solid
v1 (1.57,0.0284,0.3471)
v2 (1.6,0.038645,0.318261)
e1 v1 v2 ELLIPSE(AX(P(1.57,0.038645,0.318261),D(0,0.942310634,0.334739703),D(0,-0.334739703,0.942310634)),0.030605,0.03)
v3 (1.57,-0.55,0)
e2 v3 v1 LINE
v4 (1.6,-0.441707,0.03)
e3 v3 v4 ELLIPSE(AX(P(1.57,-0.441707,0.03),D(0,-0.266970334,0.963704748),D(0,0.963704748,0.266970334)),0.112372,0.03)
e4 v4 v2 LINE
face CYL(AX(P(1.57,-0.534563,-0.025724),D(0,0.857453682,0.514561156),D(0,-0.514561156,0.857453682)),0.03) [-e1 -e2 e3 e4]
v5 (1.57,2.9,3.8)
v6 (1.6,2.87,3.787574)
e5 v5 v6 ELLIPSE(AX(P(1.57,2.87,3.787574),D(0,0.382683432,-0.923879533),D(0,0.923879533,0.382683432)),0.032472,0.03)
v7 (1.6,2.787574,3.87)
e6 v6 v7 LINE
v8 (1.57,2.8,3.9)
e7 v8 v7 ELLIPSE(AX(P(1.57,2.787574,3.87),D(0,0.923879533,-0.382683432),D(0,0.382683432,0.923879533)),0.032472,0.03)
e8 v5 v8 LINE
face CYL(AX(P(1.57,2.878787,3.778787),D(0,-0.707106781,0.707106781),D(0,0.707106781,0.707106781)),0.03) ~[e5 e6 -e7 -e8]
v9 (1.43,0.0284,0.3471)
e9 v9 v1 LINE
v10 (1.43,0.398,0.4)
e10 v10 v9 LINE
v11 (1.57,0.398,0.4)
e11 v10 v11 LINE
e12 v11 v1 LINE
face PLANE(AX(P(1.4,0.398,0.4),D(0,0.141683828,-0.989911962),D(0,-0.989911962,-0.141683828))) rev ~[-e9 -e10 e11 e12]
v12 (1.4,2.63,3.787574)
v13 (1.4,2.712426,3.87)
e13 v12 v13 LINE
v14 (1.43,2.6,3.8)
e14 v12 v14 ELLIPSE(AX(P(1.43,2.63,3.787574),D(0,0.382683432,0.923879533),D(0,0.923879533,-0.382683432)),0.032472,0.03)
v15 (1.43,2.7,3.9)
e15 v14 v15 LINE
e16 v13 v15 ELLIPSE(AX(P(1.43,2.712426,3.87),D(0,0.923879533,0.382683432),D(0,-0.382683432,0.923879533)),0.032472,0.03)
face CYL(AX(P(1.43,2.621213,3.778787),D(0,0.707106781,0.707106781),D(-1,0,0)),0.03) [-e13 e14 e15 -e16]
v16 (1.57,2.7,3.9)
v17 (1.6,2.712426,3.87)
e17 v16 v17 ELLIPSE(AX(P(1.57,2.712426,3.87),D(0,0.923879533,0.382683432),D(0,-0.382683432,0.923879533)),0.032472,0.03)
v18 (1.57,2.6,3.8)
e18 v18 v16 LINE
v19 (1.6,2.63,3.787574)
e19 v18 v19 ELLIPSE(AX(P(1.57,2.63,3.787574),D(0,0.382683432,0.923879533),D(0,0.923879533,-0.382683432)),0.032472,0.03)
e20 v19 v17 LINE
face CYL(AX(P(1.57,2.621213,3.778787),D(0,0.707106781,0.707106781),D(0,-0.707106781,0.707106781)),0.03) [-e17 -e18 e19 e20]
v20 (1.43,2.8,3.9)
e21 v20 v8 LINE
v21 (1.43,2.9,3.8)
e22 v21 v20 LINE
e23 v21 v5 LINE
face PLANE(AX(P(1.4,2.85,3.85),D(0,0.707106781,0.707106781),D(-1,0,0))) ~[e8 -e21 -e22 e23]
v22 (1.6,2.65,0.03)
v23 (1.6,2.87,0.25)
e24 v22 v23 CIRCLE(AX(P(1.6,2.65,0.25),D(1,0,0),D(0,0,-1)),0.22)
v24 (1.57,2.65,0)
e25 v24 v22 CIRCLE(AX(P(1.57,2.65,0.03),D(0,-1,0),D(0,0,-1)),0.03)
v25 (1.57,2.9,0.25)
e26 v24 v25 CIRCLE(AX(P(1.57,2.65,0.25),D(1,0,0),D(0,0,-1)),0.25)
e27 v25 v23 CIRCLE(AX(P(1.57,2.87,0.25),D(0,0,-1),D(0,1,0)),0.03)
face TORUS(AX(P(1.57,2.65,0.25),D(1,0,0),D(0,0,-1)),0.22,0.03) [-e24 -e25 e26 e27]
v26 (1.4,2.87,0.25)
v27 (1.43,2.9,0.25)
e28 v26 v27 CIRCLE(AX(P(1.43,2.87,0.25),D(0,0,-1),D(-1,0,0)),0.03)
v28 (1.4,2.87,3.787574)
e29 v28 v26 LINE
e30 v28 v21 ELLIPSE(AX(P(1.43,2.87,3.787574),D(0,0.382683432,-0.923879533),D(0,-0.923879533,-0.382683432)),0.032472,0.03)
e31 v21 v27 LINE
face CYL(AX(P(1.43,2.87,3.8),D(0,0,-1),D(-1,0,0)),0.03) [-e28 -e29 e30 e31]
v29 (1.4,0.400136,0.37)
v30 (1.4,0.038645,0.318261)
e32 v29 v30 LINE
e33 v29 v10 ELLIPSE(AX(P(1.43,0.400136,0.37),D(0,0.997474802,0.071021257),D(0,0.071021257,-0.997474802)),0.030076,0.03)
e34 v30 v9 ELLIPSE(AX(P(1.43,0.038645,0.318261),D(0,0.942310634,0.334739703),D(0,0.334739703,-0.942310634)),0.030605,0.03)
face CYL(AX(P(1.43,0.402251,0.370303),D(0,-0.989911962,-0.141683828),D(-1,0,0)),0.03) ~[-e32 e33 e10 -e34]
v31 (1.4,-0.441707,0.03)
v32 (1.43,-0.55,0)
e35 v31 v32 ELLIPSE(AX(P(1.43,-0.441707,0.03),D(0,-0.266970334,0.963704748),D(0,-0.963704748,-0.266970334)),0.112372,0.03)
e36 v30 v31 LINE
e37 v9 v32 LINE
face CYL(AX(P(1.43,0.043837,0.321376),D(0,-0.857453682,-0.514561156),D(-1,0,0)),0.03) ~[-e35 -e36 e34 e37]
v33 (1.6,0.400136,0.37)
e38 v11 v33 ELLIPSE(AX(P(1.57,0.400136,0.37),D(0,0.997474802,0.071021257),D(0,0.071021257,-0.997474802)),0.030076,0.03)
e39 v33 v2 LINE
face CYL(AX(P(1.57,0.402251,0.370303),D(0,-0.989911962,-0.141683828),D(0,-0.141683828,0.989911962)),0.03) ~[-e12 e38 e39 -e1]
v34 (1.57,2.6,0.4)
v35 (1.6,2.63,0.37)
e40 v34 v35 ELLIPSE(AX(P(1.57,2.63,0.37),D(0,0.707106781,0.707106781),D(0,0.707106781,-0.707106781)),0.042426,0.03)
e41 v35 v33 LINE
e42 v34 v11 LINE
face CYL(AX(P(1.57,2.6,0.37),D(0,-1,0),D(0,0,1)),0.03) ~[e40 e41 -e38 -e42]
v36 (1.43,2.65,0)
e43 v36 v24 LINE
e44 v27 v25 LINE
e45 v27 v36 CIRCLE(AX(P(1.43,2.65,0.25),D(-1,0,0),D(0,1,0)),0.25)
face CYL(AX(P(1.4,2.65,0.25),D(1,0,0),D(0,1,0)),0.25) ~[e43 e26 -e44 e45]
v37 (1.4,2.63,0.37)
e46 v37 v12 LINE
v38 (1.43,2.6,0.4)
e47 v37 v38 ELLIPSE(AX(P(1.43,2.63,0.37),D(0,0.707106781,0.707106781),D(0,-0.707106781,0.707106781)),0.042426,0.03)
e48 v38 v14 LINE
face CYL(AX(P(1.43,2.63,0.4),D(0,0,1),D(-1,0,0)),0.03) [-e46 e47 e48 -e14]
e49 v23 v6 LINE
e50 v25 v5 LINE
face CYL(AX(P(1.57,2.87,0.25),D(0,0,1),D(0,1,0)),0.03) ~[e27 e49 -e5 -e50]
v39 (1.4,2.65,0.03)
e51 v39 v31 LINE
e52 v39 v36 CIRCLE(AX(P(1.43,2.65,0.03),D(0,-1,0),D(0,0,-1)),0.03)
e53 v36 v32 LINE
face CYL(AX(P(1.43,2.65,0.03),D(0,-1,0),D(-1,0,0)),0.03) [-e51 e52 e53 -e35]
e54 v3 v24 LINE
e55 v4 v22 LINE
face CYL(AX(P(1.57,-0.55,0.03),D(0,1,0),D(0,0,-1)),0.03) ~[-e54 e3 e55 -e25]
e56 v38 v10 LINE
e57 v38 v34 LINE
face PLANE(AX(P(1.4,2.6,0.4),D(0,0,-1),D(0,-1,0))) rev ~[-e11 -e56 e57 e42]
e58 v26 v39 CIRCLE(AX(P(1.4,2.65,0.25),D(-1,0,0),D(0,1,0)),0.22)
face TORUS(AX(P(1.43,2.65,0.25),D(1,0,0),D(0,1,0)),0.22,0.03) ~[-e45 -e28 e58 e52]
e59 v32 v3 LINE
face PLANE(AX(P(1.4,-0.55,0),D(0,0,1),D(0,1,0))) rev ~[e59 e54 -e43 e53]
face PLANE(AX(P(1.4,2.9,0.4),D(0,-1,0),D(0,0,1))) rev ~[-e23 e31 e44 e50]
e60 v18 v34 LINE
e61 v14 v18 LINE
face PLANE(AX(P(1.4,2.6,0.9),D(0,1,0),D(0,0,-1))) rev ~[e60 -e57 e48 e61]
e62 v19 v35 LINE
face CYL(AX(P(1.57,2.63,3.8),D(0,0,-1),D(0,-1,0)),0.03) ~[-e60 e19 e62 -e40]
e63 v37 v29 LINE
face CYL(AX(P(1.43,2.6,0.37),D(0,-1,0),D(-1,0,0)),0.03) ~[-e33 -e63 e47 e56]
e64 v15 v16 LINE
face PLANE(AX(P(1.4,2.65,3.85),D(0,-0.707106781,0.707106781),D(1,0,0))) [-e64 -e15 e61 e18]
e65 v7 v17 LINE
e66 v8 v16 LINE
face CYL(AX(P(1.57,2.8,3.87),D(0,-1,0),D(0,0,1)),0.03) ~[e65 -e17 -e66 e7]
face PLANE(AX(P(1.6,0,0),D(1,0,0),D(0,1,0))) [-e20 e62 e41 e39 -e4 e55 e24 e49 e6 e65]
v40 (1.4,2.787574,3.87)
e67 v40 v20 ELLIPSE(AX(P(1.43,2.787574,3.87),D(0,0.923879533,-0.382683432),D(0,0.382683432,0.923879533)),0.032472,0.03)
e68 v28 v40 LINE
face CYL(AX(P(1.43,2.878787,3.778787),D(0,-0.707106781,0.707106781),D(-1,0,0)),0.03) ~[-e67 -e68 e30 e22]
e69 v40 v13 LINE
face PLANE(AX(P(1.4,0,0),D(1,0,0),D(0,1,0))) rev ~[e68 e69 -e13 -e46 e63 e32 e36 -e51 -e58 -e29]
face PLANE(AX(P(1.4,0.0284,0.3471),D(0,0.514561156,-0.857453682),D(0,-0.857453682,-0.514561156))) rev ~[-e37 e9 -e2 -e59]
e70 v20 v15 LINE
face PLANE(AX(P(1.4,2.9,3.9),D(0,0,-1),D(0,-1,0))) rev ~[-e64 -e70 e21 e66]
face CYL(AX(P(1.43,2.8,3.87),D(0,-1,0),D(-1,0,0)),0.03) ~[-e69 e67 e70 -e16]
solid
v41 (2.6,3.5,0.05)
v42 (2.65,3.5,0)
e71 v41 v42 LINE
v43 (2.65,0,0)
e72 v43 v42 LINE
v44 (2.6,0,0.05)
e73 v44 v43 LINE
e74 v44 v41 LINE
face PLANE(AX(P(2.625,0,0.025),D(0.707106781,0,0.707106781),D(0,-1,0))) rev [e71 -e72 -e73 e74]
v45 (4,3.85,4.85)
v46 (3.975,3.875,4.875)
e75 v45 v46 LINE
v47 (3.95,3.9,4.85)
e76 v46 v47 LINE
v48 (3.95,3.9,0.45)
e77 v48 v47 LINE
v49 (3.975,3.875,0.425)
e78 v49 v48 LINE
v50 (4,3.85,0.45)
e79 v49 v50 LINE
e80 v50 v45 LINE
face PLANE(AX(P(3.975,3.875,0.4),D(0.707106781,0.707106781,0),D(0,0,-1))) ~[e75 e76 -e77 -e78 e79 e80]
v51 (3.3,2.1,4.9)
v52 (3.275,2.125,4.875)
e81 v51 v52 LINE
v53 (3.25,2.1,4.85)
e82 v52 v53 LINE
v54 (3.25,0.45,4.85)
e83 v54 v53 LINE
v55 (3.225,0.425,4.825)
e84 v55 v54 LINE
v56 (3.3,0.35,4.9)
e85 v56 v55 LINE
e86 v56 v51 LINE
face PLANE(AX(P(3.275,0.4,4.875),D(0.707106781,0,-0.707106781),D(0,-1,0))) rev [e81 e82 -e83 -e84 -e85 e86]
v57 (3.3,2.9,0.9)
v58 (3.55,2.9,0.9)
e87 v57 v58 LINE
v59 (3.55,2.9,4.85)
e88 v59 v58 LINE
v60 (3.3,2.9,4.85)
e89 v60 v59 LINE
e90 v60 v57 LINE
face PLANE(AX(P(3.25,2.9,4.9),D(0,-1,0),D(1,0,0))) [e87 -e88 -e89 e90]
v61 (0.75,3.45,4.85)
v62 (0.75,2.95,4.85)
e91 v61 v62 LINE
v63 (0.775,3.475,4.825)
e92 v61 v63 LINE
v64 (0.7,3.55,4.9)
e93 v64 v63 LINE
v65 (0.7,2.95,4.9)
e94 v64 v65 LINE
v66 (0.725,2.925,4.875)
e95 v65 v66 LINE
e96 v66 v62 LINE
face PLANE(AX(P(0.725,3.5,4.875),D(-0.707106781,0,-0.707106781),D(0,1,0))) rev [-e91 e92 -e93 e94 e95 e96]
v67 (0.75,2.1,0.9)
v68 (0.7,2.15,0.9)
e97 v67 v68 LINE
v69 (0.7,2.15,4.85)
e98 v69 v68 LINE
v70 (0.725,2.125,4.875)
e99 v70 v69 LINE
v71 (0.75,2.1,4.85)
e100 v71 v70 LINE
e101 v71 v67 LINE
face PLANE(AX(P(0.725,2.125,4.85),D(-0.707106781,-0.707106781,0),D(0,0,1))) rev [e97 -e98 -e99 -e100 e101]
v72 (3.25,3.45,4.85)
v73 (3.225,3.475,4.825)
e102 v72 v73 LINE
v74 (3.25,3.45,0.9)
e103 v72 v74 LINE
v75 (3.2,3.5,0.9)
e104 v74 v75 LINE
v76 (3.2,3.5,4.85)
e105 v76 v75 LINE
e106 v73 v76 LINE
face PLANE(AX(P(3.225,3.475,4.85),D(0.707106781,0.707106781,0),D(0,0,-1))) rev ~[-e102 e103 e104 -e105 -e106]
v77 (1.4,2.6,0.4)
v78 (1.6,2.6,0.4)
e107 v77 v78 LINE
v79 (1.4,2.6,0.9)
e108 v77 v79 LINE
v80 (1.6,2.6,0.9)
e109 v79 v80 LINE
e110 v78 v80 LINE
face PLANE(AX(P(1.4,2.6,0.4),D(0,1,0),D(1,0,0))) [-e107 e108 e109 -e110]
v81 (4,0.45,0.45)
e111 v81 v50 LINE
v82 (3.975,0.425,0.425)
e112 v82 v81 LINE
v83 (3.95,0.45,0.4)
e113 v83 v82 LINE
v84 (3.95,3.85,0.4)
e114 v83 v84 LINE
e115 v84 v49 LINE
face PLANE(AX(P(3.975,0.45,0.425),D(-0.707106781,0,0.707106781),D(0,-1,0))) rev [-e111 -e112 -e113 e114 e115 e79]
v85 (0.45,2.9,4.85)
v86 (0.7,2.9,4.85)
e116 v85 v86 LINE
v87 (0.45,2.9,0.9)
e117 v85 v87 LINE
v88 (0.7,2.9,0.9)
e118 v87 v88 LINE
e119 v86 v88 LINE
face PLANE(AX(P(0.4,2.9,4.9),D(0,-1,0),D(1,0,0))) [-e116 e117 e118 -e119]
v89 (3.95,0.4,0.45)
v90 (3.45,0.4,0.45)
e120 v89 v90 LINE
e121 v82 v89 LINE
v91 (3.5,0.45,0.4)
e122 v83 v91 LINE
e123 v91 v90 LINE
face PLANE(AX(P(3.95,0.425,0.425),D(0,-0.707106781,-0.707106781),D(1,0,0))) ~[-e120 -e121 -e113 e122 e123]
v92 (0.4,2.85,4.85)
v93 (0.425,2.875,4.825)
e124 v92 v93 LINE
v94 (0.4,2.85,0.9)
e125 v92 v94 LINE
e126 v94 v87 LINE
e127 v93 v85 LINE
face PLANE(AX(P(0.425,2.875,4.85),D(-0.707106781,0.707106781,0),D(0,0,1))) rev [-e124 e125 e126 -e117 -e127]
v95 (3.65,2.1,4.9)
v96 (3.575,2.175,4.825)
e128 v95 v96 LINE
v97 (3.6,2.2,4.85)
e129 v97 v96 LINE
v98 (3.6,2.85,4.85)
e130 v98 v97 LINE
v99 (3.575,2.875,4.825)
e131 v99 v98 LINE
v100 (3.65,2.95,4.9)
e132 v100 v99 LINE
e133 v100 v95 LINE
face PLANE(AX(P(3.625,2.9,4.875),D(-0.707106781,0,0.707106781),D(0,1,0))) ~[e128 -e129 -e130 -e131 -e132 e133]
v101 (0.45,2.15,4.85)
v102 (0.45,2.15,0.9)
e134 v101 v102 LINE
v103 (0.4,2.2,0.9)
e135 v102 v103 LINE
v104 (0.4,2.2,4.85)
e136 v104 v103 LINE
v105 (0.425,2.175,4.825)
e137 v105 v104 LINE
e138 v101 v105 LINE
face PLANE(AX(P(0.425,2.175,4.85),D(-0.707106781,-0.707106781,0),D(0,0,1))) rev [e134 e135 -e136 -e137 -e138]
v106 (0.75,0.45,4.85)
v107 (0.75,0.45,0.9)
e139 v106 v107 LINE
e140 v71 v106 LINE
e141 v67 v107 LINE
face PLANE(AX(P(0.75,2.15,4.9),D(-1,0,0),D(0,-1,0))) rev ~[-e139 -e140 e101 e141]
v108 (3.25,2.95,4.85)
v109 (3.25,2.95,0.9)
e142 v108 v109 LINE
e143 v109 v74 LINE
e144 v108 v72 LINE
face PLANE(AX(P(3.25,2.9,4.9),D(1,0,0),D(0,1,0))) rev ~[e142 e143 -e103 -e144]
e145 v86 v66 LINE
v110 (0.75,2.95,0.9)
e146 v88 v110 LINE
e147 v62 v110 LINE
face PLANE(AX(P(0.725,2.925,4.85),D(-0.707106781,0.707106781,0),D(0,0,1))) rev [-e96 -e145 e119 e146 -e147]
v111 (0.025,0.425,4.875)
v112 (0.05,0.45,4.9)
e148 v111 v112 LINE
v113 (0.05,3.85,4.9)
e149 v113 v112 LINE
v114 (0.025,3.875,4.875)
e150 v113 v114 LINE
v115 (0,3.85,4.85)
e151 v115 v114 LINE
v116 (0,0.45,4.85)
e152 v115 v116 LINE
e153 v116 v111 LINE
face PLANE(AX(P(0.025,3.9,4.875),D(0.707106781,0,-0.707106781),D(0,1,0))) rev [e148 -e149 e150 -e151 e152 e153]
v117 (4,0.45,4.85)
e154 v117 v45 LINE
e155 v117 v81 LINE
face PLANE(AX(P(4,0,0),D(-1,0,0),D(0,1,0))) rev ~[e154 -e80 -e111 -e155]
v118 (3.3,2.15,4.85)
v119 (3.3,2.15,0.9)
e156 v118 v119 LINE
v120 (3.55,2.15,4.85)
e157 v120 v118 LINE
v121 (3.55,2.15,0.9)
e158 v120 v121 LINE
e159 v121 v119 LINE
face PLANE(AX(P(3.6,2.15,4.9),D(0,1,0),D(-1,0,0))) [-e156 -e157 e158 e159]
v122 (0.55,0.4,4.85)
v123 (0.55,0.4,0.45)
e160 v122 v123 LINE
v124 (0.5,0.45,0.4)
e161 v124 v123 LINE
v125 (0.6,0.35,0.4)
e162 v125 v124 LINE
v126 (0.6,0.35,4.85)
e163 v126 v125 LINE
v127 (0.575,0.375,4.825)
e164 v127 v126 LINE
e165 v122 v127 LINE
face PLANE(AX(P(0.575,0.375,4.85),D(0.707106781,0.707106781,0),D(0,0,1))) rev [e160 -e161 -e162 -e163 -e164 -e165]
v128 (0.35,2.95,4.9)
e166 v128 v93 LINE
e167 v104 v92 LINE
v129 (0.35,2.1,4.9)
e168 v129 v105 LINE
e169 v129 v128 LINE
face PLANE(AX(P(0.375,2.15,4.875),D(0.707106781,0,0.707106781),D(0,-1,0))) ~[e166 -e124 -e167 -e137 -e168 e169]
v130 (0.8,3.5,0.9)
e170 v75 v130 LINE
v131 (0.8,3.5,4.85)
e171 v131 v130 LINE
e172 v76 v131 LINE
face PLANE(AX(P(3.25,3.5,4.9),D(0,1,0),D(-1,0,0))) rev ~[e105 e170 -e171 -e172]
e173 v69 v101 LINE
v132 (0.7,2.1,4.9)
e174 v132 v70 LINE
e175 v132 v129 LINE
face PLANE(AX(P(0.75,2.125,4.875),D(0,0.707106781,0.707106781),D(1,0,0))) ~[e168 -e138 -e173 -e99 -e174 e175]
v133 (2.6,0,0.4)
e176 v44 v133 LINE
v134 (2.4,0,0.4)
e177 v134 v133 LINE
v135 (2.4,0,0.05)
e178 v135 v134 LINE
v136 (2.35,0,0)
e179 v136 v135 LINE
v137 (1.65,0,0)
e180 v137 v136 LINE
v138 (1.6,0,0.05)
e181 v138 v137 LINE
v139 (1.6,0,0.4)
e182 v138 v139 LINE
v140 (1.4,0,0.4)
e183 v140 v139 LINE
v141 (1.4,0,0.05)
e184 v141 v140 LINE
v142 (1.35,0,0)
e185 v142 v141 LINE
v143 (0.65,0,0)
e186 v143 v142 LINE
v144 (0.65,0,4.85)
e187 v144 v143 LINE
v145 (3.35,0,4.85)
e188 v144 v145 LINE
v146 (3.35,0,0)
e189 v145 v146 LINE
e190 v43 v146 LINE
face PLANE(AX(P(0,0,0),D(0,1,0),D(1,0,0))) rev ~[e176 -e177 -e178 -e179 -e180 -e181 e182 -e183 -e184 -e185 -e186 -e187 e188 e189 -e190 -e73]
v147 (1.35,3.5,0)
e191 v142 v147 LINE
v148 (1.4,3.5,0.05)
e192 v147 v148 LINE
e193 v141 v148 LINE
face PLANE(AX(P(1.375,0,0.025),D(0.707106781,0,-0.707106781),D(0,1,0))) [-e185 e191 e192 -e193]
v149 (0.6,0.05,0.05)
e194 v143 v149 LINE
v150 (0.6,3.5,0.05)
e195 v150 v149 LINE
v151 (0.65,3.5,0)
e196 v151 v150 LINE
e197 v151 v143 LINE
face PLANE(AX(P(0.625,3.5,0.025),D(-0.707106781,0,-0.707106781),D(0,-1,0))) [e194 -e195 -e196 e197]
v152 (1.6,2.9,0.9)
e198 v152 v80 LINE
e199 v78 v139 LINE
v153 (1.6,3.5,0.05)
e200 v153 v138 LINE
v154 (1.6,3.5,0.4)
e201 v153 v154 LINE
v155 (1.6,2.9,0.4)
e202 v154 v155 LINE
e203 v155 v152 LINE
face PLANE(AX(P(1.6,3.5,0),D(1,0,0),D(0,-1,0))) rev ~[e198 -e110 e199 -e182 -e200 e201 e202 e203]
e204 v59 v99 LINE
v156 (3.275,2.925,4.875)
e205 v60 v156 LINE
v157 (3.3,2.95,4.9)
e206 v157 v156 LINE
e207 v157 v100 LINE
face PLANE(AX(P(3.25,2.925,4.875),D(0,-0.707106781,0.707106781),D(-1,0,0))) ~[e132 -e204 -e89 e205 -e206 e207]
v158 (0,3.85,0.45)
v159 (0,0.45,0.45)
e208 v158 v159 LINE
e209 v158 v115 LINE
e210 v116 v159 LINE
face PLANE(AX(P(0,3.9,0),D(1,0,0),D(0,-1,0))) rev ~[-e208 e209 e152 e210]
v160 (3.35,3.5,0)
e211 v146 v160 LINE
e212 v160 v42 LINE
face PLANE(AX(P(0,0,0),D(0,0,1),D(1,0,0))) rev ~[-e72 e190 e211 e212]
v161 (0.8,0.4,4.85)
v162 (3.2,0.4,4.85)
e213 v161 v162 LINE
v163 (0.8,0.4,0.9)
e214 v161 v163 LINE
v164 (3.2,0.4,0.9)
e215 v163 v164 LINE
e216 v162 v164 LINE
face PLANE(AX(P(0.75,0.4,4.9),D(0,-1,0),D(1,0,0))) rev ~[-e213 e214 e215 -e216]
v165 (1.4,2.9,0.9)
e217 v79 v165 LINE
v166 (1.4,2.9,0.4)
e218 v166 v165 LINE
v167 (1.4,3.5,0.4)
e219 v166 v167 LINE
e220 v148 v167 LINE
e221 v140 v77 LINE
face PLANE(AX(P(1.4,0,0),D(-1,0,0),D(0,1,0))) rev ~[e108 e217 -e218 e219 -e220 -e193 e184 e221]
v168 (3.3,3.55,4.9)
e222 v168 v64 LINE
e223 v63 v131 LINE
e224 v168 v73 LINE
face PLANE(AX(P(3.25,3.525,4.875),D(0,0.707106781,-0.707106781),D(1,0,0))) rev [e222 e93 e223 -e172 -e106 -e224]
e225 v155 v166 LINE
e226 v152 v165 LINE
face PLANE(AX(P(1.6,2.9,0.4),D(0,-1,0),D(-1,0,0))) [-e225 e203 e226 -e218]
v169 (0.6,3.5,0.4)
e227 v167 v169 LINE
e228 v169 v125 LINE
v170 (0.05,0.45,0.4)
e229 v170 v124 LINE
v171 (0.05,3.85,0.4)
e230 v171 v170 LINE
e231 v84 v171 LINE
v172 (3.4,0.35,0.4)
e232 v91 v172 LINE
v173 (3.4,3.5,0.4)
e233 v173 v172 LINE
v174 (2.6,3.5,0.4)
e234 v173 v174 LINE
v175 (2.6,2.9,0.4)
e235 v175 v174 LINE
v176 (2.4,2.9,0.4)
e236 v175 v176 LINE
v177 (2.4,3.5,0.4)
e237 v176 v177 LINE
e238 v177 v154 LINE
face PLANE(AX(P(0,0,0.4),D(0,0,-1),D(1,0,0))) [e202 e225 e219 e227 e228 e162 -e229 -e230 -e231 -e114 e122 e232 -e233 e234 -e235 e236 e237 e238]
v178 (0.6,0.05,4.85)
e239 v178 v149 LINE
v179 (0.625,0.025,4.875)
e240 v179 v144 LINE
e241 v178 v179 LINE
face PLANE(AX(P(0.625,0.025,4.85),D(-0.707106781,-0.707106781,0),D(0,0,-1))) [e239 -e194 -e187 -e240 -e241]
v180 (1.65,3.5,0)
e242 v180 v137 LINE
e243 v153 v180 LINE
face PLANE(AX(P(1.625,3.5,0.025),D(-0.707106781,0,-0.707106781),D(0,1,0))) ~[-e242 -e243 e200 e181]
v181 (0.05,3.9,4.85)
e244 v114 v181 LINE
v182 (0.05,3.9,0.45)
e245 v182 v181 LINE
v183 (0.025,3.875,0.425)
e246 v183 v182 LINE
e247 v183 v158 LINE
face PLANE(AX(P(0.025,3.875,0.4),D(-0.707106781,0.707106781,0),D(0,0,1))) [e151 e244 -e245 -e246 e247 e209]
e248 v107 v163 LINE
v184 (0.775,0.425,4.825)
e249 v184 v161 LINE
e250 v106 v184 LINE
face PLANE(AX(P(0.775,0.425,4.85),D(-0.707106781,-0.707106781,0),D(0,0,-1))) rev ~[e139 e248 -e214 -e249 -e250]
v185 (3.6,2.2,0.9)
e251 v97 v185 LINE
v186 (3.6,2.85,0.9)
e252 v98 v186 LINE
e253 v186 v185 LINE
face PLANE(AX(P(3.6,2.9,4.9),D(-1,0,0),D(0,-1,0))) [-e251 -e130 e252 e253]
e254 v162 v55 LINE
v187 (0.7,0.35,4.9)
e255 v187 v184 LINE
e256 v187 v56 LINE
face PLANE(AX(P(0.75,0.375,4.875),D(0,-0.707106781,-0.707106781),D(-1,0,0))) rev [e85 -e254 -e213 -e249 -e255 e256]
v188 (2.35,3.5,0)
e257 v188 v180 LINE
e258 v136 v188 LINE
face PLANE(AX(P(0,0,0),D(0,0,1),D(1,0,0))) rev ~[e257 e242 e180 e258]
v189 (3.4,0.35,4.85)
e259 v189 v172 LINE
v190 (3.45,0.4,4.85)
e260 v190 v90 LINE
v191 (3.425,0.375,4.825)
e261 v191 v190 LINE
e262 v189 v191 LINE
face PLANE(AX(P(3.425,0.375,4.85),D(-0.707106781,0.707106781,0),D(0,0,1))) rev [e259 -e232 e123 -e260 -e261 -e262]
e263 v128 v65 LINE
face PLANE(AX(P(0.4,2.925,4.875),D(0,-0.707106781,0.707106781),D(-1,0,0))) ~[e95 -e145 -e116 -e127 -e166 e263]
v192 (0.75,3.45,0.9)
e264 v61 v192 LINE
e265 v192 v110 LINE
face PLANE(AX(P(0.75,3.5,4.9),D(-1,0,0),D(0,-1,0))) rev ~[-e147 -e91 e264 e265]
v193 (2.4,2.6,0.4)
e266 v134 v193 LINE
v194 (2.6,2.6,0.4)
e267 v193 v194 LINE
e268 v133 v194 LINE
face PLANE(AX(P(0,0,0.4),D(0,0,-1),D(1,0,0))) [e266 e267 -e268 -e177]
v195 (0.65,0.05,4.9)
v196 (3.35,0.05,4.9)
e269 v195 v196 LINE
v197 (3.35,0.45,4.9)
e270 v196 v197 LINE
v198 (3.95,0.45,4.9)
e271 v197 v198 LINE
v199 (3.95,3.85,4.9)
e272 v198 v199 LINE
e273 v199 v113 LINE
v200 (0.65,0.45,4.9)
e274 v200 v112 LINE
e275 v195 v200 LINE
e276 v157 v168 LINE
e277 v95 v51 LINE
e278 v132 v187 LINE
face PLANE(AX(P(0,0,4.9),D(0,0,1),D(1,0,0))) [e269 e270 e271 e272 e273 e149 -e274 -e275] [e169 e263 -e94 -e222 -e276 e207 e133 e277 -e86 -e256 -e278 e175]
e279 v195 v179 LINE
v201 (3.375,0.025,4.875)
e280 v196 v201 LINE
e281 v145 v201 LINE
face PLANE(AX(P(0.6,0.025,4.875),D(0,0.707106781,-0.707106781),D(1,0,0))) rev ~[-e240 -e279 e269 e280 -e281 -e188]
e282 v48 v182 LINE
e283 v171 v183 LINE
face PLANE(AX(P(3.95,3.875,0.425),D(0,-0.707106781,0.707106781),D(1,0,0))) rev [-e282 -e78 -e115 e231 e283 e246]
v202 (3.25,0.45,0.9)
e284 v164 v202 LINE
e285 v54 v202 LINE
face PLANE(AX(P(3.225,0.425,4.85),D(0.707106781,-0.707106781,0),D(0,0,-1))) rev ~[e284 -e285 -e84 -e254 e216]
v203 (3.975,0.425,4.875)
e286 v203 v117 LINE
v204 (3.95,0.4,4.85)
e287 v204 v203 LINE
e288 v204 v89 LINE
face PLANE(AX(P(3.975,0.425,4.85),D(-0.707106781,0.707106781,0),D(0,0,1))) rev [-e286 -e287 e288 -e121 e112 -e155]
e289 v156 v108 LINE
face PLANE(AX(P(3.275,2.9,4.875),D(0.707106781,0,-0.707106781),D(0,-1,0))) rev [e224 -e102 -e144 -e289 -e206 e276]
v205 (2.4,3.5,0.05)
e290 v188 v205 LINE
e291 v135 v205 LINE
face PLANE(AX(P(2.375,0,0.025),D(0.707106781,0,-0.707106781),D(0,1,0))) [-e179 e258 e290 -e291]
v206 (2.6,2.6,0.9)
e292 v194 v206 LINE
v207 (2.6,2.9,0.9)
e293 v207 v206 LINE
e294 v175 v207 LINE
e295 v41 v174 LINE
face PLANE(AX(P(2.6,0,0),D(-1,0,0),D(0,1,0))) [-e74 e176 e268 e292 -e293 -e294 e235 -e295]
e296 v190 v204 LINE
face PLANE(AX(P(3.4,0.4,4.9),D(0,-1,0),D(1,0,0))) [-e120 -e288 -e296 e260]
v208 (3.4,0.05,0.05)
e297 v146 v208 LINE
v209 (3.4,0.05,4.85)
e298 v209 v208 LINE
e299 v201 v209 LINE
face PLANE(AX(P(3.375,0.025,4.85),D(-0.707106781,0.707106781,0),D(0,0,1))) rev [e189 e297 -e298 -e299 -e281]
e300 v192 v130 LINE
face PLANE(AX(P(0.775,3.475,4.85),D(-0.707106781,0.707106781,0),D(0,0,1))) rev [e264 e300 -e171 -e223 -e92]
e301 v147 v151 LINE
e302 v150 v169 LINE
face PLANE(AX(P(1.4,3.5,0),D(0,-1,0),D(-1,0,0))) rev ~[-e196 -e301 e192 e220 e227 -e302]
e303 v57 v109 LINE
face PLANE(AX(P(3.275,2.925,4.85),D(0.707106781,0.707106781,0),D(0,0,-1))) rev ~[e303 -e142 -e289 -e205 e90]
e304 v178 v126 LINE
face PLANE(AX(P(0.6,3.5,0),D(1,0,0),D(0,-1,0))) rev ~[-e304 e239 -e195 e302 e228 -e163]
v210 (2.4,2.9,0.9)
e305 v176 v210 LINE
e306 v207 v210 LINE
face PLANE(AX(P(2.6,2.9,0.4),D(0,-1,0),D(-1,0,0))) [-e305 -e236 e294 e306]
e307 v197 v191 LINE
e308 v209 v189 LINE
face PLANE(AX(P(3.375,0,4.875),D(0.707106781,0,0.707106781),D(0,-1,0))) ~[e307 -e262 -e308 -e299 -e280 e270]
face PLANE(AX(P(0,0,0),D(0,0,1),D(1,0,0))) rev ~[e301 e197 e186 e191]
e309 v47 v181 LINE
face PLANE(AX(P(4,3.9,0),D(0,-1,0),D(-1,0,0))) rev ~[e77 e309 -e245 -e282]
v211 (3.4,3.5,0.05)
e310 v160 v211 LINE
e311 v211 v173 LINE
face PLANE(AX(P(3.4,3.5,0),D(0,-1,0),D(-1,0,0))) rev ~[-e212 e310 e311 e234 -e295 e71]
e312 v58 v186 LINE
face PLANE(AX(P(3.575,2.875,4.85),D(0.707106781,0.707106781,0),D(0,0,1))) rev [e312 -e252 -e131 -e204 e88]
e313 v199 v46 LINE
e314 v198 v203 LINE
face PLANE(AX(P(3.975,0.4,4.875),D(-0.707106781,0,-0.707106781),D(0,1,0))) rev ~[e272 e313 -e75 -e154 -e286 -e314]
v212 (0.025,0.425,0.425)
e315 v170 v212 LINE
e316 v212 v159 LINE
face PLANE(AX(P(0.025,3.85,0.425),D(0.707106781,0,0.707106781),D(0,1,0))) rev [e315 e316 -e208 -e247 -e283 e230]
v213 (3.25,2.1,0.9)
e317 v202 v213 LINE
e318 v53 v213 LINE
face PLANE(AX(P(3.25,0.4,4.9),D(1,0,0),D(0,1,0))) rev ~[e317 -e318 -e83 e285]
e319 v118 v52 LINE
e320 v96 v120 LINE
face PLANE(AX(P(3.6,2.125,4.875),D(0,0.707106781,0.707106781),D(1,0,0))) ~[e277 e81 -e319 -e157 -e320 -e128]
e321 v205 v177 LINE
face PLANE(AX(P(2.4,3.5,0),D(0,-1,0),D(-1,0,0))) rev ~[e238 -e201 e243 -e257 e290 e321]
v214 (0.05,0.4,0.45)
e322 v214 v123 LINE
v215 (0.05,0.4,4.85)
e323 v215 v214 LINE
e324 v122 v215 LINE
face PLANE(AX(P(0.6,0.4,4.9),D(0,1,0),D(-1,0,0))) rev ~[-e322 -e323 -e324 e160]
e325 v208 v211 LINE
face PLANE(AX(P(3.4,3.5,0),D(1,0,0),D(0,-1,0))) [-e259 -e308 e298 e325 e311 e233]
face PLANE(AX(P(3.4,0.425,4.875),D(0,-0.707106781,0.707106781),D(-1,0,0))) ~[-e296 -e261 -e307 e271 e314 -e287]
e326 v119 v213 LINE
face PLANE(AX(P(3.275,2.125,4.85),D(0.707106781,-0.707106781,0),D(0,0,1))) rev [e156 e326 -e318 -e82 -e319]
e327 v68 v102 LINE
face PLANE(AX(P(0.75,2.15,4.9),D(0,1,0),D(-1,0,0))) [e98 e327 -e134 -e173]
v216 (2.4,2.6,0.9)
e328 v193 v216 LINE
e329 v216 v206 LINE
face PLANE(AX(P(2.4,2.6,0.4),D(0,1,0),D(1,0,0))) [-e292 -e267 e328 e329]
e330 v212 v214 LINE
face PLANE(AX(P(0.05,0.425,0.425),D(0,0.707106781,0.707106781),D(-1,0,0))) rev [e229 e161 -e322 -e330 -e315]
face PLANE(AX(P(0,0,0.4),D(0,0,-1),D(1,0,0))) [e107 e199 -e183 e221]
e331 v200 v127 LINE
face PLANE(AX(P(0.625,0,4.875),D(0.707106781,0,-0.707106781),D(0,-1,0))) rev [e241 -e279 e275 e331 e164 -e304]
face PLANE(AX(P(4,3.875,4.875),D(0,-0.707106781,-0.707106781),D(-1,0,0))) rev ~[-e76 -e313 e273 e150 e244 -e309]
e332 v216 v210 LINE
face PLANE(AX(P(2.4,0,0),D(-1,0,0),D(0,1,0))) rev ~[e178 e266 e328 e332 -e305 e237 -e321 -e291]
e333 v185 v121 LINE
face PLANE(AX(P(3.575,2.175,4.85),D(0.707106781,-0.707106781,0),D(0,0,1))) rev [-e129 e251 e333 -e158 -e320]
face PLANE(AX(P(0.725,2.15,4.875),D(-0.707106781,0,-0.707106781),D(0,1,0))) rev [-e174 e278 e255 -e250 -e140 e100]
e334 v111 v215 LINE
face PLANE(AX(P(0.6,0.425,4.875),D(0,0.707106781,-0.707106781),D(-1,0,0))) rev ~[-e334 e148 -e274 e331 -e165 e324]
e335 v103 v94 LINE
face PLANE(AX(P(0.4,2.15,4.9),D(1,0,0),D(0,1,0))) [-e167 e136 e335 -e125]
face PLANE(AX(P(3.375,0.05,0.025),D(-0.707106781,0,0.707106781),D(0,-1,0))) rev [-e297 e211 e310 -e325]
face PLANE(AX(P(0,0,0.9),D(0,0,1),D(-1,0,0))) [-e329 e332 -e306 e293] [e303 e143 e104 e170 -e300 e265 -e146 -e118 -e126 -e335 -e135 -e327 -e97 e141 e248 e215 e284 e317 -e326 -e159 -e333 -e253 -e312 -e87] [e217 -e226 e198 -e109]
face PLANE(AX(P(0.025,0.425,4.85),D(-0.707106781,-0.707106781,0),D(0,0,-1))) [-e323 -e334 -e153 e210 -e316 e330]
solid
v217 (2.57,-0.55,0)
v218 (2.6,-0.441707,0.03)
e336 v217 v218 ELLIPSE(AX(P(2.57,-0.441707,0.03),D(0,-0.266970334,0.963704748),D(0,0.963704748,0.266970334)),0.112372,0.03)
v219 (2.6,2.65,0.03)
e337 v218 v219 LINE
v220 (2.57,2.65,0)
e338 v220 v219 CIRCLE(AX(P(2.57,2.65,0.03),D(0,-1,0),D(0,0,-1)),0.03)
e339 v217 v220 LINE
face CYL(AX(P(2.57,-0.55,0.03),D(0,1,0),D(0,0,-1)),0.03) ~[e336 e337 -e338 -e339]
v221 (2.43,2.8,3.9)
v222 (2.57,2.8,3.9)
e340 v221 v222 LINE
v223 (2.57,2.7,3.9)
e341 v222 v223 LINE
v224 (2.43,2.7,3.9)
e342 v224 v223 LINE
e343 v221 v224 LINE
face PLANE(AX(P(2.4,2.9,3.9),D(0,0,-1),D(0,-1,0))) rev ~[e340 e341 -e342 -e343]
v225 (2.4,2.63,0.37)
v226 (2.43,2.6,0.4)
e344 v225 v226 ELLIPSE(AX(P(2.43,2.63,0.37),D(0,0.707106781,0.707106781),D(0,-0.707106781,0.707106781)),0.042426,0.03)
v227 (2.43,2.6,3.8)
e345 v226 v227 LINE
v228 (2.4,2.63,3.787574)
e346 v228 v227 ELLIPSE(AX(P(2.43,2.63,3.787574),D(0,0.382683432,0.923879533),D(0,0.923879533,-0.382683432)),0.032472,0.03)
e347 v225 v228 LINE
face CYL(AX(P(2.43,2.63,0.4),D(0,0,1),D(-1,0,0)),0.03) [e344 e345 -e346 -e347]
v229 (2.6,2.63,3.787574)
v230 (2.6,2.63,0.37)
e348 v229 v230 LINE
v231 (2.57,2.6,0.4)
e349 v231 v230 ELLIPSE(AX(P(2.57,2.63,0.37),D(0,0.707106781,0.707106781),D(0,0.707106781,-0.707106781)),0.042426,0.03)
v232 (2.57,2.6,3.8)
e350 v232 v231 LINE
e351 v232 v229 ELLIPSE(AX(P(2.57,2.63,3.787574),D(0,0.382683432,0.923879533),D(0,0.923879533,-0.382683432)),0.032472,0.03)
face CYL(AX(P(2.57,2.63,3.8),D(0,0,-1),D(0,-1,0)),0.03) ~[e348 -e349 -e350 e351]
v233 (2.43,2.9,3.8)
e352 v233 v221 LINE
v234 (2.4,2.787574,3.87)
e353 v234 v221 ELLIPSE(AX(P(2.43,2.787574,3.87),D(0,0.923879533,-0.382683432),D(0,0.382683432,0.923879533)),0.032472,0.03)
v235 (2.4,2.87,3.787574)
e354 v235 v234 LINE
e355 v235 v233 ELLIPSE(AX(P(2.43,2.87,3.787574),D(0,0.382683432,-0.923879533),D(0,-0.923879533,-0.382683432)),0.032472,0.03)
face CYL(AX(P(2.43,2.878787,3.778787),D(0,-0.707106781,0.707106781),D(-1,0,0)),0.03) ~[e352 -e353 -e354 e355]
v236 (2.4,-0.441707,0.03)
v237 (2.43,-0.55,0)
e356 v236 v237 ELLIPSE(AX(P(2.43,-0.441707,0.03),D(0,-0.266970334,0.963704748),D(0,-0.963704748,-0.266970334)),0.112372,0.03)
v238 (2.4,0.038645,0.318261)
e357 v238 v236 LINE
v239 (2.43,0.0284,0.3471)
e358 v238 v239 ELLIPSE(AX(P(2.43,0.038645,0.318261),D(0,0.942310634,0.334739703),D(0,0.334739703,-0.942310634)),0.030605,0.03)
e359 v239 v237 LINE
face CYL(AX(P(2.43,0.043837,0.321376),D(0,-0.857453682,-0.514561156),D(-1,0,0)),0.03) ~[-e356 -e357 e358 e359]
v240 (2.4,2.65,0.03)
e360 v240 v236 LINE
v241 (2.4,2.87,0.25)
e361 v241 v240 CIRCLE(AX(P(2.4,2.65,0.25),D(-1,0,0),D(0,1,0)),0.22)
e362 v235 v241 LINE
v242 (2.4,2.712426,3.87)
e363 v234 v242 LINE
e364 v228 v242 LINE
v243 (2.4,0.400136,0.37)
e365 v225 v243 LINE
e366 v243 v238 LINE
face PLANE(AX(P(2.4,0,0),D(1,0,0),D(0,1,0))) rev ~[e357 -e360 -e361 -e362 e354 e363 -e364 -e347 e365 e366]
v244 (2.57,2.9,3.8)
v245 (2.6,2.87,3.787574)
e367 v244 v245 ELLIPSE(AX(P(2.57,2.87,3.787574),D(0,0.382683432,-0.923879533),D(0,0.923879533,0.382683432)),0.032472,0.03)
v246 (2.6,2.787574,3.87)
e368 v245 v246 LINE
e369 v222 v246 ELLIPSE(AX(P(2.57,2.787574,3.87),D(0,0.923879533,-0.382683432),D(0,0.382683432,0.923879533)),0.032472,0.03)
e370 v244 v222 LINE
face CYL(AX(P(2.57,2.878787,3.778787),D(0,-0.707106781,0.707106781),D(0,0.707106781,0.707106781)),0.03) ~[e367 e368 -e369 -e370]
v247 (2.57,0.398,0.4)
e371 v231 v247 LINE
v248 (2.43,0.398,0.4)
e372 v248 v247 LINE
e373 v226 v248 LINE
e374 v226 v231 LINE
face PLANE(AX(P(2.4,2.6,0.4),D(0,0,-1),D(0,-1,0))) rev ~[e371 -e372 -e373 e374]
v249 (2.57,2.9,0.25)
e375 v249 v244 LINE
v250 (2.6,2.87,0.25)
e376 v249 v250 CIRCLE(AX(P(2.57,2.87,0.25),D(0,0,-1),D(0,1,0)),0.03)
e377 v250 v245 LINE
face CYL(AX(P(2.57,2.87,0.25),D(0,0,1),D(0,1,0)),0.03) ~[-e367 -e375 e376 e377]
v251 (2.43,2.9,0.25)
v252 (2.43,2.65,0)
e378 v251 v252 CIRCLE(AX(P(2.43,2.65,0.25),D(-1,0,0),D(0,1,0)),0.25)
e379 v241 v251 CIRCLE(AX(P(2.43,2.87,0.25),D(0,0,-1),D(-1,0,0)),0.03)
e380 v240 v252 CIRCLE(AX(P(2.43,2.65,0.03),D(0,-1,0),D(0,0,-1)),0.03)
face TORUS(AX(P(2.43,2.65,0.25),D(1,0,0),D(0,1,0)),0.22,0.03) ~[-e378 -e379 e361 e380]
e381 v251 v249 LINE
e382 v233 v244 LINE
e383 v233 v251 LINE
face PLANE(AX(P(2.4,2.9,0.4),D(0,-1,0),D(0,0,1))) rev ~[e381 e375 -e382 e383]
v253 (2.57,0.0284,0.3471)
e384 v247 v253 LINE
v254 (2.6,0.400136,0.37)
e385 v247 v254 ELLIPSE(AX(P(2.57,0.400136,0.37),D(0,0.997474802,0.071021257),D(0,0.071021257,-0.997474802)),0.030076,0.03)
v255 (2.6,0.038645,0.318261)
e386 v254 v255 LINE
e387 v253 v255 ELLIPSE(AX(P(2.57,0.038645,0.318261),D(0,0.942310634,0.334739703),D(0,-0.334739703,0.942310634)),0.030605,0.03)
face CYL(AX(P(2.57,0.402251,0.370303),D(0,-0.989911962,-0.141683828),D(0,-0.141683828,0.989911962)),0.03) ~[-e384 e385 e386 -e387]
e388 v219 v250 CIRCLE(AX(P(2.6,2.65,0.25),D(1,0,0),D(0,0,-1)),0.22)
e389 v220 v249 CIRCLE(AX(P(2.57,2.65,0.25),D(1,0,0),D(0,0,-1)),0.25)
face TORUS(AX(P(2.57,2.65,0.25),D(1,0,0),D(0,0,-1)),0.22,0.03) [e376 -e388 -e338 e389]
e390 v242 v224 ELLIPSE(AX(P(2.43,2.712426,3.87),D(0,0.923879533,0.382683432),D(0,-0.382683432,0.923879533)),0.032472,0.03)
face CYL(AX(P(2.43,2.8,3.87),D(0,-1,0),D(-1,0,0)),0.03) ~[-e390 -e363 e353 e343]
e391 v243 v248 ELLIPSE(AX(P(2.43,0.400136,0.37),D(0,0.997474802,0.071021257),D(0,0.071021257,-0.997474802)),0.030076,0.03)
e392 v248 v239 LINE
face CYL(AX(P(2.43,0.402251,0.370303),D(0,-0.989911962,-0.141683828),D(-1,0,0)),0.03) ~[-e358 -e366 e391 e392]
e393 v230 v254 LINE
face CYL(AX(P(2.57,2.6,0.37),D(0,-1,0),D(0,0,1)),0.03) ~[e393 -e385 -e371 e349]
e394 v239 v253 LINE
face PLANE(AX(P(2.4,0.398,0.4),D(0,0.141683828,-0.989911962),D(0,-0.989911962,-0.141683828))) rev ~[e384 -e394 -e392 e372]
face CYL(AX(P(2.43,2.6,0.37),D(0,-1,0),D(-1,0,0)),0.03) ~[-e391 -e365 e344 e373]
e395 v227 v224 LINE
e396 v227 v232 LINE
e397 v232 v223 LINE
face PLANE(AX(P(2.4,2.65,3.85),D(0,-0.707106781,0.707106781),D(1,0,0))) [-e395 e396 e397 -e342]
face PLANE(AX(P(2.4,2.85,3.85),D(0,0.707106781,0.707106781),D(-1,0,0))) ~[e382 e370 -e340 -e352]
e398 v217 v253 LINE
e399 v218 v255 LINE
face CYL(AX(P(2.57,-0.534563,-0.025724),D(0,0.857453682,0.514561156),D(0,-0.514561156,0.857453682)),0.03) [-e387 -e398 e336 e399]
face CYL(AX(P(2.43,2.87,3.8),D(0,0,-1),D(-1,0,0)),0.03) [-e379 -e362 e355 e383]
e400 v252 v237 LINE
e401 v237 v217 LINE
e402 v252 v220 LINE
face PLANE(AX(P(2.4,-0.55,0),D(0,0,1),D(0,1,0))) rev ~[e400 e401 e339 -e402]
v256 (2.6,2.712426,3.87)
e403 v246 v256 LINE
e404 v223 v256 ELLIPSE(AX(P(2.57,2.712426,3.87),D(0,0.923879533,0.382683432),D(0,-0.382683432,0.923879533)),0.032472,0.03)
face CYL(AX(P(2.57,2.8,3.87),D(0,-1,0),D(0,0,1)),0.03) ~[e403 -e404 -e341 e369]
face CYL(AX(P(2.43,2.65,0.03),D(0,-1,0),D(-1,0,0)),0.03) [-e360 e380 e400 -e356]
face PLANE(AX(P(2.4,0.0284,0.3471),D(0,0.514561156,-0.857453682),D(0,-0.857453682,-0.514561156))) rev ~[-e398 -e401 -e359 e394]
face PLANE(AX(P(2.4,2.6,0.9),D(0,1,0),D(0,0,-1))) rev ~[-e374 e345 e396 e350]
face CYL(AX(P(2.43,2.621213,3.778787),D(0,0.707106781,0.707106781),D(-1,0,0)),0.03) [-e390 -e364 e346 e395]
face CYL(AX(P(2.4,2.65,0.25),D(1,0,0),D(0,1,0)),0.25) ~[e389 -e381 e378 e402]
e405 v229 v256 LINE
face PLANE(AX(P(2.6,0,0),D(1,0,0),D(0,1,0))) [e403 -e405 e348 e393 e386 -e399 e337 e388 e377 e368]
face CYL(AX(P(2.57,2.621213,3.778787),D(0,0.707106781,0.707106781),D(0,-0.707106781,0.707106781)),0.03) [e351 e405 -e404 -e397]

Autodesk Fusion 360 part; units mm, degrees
sketch "草图1" plane through (0, 0, 0) normal (0, 0, 1) x (1, 0, 0) in component "Component'"
  line L0 (0, 0) -> (4, 0)
  line L1 (4, 0) -> (4, 3.9)
  line L2 (4, 3.9) -> (0, 3.9)
  line L3 (0, 3.9) -> (0, 0)
  dimension "d1" = 4
  dimension "d2" = 3.9
extrude "拉伸1" add sketch "草图1" along normal blind 4.9 makes body 1 in component "Component'"
sketch "草图2" plane through (0, 0, 4.9) normal (0, 0, 1) x (-1, 0, 0) in component "Component'"
  line L0 (0, -3.9) -> (0, 0)
  line L1 (0, 0) -> (-4, 0)
  line L2 (-4, 0) -> (-4, -3.9)
  line L3 (-4, -3.9) -> (0, -3.9)
  line L4 (-0.75, -0.4) -> (-3.25, -0.4)
  line L5 (-3.25, -0.4) -> (-3.25, -3.5)
  line L6 (-3.25, -3.5) -> (-0.75, -3.5)
  line L7 (-0.75, -3.5) -> (-0.75, -0.4)
  line L8 (-0.4, -2.9) -> (-3.6, -2.9)
  line L9 (-3.6, -2.9) -> (-3.6, -2.15)
  line L10 (-3.6, -2.15) -> (-0.4, -2.15)
  line L11 (-0.4, -2.15) -> (-0.4, -2.9)
  dimension "d5" = 2.5
  dimension "d6" = 0.75
  dimension "d7" = 0.4
  dimension "d8" = 0.4
  dimension "d9" = 3.2
  dimension "d10" = 0.4
  dimension "d11" = 1
  dimension "d12" = 0.75
extrude "拉伸2" cut sketch "草图2" against normal blind 4 contours L4 L5 L7 L10 | L7 L8 L10 L11 | L5 L7 L8 L10 | L5 L8 L9 L10 | L5 L6 L7 L8 bodies 1 in component "Component'"
sketch "草图3" plane through (0, 0, 4.9) normal (0, 0, 1) x (-1, 0, 0) in component "Component'"
  line L0 (-3.25, -0.4) -> (-0.75, -0.4)
  line L1 (-0.75, -0.4) -> (-0.75, -2.15)
  line L2 (-0.75, -2.15) -> (-0.4, -2.15)
  line L3 (-0.4, -2.15) -> (-0.4, -2.9)
  line L4 (-0.4, -2.9) -> (-0.75, -2.9)
  line L5 (-0.75, -2.9) -> (-0.75, -3.5)
  line L6 (-0.75, -3.5) -> (-3.25, -3.5)
  line L7 (-3.25, -3.5) -> (-3.25, -2.9)
  line L8 (-3.25, -2.9) -> (-3.6, -2.9)
  line L9 (-3.6, -2.9) -> (-3.6, -2.15)
  line L10 (-3.6, -2.15) -> (-3.25, -2.15)
  line L11 (-3.25, -2.15) -> (-3.25, -0.4)
  line L12 (0, -3.9) -> (0, 0)
  line L13 (0, 0) -> (-4, 0)
  line L14 (-4, 0) -> (-4, -3.9)
  line L15 (-4, -3.9) -> (0, -3.9)
  line L16 (0, 0) -> (-0.6, 0)
  line L17 (-0.6, 0) -> (-0.6, -0.4)
  line L18 (-0.6, -0.4) -> (0, -0.4)
  line L19 (0, -0.4) -> (0, 0)
  line L20 (-4, 0) -> (-3.4, 0)
  line L21 (-3.4, 0) -> (-3.4, -0.4)
  line L22 (-3.4, -0.4) -> (-4, -0.4)
  line L23 (-4, -0.4) -> (-4, 0)
  dimension "d15" = 0.4
  dimension "d16" = 0.6
  dimension "d17" = 0.6
  dimension "d18" = 0.4
extrude "拉伸3" cut sketch "草图3" against normal up to surface (4.9 mm away) contours L12 L13 L16 L17 L18 L19 | L13 L14 L20 L21 L22 L23 bodies 1 in component "Component'"
sketch "草图4" plane through (0, 0, 0) normal (0, 0, -1) x (1, 0, 0) in component "Component'"
  line L0 (0.6, 0) -> (1.4, 0)
  line L1 (1.4, 0) -> (1.4, -3.9)
  line L2 (1.4, -3.9) -> (0.6, -3.9)
  line L3 (0.6, -3.9) -> (0.6, 0)
  line L4 (1.6, 0) -> (2.4, 0)
  line L5 (2.4, 0) -> (2.4, -3.9)
  line L6 (2.4, -3.9) -> (1.6, -3.9)
  line L7 (1.6, -3.9) -> (1.6, 0)
  line L8 (3.4, 0) -> (2.6, 0)
  line L9 (2.6, 0) -> (2.6, -3.9)
  line L10 (2.6, -3.9) -> (3.4, -3.9)
  line L11 (3.4, -3.9) -> (3.4, 0)
  line L12 (0, -3.9) -> (4, -3.9)
  line L13 (4, -3.9) -> (4, -3.5)
  line L14 (4, -3.5) -> (0, -3.5)
  line L15 (0, -3.5) -> (0, -3.9)
  line L16 (0, -3.5) -> (0, -0.4)
  line L17 (0, -0.4) -> (0.6, -0.4)
  line L18 (1.4, 0) -> (2.6, 0)
  line L19 (4, -3.5) -> (4, -0.4)
  line L20 (4, -0.4) -> (3.4, -0.4)
  point P0 (3.4, 0)
  dimension "d27" = 0.8
  dimension "d28" = 0.2
  dimension "d29" = 0.2
  dimension "d30" = 0.8
  dimension "d31" = 0.8
  dimension "d32" = 0.4
extrude "拉伸5" cut sketch "草图4" against normal blind 0.4 contours L1 L7 L14 L18 | L3 L14 L16 L17 | L1 L7 L12 L14 | L1 L2 L3 L12 L14 | L3 L12 L14 L15 | L5 L6 L7 L12 L14 | L5 L9 L14 L18 | L5 L9 L12 L14 | L9 L10 L11 L12 L14 | L11 L12 L13 L14 | L11 L14 L19 L20 bodies 1 in component "Component'"
sketch "草图6" plane through (0, 0, 0.4) normal (0, 0, -1) x (1, 0, 0) in component "Component'"
  line L0 (0, -0.4) -> (0, -3.9)
  line L1 (0, -3.9) -> (4, -3.9)
  line L2 (4, -3.9) -> (4, -0.4)
  line L3 (4, -0.4) -> (3.4, -0.4)
  line L4 (3.4, -0.4) -> (3.4, -3.5)
  line L5 (3.4, -3.5) -> (2.6, -3.5)
  line L6 (2.6, -3.5) -> (2.6, 0)
  line L7 (2.6, 0) -> (2.4, 0)
  line L8 (2.4, 0) -> (2.4, -3.5)
  line L9 (2.4, -3.5) -> (1.6, -3.5)
  line L10 (1.6, -3.5) -> (1.6, 0)
  line L11 (1.6, 0) -> (1.4, 0)
  line L12 (1.4, 0) -> (1.4, -3.5)
  line L13 (1.4, -3.5) -> (0.6, -3.5)
  line L14 (0.6, -3.5) -> (0.6, -0.4)
  line L15 (0.6, -0.4) -> (0, -0.4)
  line L16 (1.4, -2.6) -> (1.6, -2.6)
  line L17 (1.6, -2.6) -> (1.6, -2.9)
  line L18 (1.6, -2.9) -> (1.4, -2.9)
  line L19 (1.4, -2.9) -> (1.4, -2.6)
  line L20 (2.4, -2.6) -> (2.6, -2.6)
  line L21 (2.6, -2.6) -> (2.6, -2.9)
  line L22 (2.6, -2.9) -> (2.4, -2.9)
  line L23 (2.4, -2.9) -> (2.4, -2.6)
  dimension "d35" = 0.3
  dimension "d36" = 1
extrude "拉伸6" cut sketch "草图6" against normal up to surface (0.5 mm away) contours L10 L12 L16 L17 L18 L19 | L6 L8 L20 L21 L22 L23 bodies 1 in component "Component'"
sketch "草图1 (2)" plane through (1.4, 0, 0) normal (1, 0, 0) x (0, 1, 0) in component "Component''"
  line L0 (0, 0) -> (3.5, 0)
  line L1 (3.5, 0) -> (3.5, 0.4)
  line L2 (3.5, 0.4) -> (2.9, 0.4)
  line L3 (2.9, 0.4) -> (2.9, 0.9)
  line L4 (2.9, 0.9) -> (2.6, 0.9)
  line L5 (2.6, 0.9) -> (2.6, 0.4)
  line L6 (2.6, 0.4) -> (0, 0.4)
  line L7 (0, 0.4) -> (0, 0)
  line L8 (2.9, 0.4) -> (2.9, 3.9)
  line L9 (2.9, 3.9) -> (2.6, 3.9)
  line L10 (2.6, 3.9) -> (2.6, 0.4)
  line L11 (0.398, 0.4) -> (0.0284, 0.3471)
  line L12 (0.0284, 0.3471) -> (-0.55, 0)
  line L13 (-0.55, 0) -> (2.9, 0)
  line L14 (2.9, 0.4) -> (2.9, 0)
  line L15 (0, 0) -> (0, 4.9)
  dimension "d39" = 3.5
  dimension "d41" = 0.55
extrude "拉伸1'" add sketch "草图1 (2)" along normal blind 0.2 separate body contours L0 L3 L4 L5 L6 L7 L8 L10 L11 L12 L13 L14 L15 | L7 L12 L13 L15 | L4 L8 L9 L10 makes body 2 in component "Component''"
chamfer "倒角1" distance 0.1 angle 45 2 edges at (1.5, 2.6, 3.9) (1.5, 2.9, 3.9) on bodies 2 in component "Component''"
fillet "圆角1" radius 0.25 1 edges at (1.5, 2.9, 0) on bodies 2 in component "Component''"
fillet "圆角2" radius 0.03 2 faces at (1.6, 0.8327, 0.1333) (1.4, 0.8327, 0.1333) on bodies 2 in component "Component''"
pattern_linear "R-阵列1" count 2 spacing 1 along (1, 0, 0) of bodies 2 makes body 3 in component "Component''"
chamfer "倒角1'" distance 0.05 angle 45 1 faces at (0.3333, 0.9833, 4.9) on bodies 1 in component "Component'"
chamfer "倒角2" distance 0.05 angle 45 31 edges at (0, 3.9, 2.625) (0, 0.4, 2.625) (0.6, 0.4, 2.625) (0.6, 0, 2.425) (3.4, 0, 2.425) (3.4, 0.4, 2.625) (4, 0.4, 2.625) (4, 3.9, 2.625) (0.75, 0.4, 2.875) (3.25, 0.4, 2.875) (3.25, 3.5, 2.875) (3.6, 2.9, 2.875) (3.6, 2.15, 2.875) (3.25, 2.9, 2.875) (3.25, 2.15, 2.875) (0.75, 2.15, 2.875) (0.4, 2.15, 2.875) (0.4, 2.9, 2.875) (0.75, 2.9, 2.875) (0.75, 3.5, 2.875) (0.6, 1.75, 0) (1.4, 1.75, 0) (1.6, 1.75, 0) (2.4, 1.75, 0) (2.6, 1.75, 0) (3.4, 1.75, 0) (0, 2.15, 0.4) (4, 2.15, 0.4) (3.7, 0.4, 0.4) (0.3, 0.4, 0.4) (2, 3.9, 0.4) on bodies 1 in component "Component'"
component "Component'" placed x (1, 0, 0) y (0, 1, 0) z (0, 0, 1) at (0, 0, 0)
component "Component''" placed x (1, 0, 0) y (0, 1, 0) z (0, 0, 1) at (0, 0, 0)
equation "d17 = d16"
equation "d18 = d15"
